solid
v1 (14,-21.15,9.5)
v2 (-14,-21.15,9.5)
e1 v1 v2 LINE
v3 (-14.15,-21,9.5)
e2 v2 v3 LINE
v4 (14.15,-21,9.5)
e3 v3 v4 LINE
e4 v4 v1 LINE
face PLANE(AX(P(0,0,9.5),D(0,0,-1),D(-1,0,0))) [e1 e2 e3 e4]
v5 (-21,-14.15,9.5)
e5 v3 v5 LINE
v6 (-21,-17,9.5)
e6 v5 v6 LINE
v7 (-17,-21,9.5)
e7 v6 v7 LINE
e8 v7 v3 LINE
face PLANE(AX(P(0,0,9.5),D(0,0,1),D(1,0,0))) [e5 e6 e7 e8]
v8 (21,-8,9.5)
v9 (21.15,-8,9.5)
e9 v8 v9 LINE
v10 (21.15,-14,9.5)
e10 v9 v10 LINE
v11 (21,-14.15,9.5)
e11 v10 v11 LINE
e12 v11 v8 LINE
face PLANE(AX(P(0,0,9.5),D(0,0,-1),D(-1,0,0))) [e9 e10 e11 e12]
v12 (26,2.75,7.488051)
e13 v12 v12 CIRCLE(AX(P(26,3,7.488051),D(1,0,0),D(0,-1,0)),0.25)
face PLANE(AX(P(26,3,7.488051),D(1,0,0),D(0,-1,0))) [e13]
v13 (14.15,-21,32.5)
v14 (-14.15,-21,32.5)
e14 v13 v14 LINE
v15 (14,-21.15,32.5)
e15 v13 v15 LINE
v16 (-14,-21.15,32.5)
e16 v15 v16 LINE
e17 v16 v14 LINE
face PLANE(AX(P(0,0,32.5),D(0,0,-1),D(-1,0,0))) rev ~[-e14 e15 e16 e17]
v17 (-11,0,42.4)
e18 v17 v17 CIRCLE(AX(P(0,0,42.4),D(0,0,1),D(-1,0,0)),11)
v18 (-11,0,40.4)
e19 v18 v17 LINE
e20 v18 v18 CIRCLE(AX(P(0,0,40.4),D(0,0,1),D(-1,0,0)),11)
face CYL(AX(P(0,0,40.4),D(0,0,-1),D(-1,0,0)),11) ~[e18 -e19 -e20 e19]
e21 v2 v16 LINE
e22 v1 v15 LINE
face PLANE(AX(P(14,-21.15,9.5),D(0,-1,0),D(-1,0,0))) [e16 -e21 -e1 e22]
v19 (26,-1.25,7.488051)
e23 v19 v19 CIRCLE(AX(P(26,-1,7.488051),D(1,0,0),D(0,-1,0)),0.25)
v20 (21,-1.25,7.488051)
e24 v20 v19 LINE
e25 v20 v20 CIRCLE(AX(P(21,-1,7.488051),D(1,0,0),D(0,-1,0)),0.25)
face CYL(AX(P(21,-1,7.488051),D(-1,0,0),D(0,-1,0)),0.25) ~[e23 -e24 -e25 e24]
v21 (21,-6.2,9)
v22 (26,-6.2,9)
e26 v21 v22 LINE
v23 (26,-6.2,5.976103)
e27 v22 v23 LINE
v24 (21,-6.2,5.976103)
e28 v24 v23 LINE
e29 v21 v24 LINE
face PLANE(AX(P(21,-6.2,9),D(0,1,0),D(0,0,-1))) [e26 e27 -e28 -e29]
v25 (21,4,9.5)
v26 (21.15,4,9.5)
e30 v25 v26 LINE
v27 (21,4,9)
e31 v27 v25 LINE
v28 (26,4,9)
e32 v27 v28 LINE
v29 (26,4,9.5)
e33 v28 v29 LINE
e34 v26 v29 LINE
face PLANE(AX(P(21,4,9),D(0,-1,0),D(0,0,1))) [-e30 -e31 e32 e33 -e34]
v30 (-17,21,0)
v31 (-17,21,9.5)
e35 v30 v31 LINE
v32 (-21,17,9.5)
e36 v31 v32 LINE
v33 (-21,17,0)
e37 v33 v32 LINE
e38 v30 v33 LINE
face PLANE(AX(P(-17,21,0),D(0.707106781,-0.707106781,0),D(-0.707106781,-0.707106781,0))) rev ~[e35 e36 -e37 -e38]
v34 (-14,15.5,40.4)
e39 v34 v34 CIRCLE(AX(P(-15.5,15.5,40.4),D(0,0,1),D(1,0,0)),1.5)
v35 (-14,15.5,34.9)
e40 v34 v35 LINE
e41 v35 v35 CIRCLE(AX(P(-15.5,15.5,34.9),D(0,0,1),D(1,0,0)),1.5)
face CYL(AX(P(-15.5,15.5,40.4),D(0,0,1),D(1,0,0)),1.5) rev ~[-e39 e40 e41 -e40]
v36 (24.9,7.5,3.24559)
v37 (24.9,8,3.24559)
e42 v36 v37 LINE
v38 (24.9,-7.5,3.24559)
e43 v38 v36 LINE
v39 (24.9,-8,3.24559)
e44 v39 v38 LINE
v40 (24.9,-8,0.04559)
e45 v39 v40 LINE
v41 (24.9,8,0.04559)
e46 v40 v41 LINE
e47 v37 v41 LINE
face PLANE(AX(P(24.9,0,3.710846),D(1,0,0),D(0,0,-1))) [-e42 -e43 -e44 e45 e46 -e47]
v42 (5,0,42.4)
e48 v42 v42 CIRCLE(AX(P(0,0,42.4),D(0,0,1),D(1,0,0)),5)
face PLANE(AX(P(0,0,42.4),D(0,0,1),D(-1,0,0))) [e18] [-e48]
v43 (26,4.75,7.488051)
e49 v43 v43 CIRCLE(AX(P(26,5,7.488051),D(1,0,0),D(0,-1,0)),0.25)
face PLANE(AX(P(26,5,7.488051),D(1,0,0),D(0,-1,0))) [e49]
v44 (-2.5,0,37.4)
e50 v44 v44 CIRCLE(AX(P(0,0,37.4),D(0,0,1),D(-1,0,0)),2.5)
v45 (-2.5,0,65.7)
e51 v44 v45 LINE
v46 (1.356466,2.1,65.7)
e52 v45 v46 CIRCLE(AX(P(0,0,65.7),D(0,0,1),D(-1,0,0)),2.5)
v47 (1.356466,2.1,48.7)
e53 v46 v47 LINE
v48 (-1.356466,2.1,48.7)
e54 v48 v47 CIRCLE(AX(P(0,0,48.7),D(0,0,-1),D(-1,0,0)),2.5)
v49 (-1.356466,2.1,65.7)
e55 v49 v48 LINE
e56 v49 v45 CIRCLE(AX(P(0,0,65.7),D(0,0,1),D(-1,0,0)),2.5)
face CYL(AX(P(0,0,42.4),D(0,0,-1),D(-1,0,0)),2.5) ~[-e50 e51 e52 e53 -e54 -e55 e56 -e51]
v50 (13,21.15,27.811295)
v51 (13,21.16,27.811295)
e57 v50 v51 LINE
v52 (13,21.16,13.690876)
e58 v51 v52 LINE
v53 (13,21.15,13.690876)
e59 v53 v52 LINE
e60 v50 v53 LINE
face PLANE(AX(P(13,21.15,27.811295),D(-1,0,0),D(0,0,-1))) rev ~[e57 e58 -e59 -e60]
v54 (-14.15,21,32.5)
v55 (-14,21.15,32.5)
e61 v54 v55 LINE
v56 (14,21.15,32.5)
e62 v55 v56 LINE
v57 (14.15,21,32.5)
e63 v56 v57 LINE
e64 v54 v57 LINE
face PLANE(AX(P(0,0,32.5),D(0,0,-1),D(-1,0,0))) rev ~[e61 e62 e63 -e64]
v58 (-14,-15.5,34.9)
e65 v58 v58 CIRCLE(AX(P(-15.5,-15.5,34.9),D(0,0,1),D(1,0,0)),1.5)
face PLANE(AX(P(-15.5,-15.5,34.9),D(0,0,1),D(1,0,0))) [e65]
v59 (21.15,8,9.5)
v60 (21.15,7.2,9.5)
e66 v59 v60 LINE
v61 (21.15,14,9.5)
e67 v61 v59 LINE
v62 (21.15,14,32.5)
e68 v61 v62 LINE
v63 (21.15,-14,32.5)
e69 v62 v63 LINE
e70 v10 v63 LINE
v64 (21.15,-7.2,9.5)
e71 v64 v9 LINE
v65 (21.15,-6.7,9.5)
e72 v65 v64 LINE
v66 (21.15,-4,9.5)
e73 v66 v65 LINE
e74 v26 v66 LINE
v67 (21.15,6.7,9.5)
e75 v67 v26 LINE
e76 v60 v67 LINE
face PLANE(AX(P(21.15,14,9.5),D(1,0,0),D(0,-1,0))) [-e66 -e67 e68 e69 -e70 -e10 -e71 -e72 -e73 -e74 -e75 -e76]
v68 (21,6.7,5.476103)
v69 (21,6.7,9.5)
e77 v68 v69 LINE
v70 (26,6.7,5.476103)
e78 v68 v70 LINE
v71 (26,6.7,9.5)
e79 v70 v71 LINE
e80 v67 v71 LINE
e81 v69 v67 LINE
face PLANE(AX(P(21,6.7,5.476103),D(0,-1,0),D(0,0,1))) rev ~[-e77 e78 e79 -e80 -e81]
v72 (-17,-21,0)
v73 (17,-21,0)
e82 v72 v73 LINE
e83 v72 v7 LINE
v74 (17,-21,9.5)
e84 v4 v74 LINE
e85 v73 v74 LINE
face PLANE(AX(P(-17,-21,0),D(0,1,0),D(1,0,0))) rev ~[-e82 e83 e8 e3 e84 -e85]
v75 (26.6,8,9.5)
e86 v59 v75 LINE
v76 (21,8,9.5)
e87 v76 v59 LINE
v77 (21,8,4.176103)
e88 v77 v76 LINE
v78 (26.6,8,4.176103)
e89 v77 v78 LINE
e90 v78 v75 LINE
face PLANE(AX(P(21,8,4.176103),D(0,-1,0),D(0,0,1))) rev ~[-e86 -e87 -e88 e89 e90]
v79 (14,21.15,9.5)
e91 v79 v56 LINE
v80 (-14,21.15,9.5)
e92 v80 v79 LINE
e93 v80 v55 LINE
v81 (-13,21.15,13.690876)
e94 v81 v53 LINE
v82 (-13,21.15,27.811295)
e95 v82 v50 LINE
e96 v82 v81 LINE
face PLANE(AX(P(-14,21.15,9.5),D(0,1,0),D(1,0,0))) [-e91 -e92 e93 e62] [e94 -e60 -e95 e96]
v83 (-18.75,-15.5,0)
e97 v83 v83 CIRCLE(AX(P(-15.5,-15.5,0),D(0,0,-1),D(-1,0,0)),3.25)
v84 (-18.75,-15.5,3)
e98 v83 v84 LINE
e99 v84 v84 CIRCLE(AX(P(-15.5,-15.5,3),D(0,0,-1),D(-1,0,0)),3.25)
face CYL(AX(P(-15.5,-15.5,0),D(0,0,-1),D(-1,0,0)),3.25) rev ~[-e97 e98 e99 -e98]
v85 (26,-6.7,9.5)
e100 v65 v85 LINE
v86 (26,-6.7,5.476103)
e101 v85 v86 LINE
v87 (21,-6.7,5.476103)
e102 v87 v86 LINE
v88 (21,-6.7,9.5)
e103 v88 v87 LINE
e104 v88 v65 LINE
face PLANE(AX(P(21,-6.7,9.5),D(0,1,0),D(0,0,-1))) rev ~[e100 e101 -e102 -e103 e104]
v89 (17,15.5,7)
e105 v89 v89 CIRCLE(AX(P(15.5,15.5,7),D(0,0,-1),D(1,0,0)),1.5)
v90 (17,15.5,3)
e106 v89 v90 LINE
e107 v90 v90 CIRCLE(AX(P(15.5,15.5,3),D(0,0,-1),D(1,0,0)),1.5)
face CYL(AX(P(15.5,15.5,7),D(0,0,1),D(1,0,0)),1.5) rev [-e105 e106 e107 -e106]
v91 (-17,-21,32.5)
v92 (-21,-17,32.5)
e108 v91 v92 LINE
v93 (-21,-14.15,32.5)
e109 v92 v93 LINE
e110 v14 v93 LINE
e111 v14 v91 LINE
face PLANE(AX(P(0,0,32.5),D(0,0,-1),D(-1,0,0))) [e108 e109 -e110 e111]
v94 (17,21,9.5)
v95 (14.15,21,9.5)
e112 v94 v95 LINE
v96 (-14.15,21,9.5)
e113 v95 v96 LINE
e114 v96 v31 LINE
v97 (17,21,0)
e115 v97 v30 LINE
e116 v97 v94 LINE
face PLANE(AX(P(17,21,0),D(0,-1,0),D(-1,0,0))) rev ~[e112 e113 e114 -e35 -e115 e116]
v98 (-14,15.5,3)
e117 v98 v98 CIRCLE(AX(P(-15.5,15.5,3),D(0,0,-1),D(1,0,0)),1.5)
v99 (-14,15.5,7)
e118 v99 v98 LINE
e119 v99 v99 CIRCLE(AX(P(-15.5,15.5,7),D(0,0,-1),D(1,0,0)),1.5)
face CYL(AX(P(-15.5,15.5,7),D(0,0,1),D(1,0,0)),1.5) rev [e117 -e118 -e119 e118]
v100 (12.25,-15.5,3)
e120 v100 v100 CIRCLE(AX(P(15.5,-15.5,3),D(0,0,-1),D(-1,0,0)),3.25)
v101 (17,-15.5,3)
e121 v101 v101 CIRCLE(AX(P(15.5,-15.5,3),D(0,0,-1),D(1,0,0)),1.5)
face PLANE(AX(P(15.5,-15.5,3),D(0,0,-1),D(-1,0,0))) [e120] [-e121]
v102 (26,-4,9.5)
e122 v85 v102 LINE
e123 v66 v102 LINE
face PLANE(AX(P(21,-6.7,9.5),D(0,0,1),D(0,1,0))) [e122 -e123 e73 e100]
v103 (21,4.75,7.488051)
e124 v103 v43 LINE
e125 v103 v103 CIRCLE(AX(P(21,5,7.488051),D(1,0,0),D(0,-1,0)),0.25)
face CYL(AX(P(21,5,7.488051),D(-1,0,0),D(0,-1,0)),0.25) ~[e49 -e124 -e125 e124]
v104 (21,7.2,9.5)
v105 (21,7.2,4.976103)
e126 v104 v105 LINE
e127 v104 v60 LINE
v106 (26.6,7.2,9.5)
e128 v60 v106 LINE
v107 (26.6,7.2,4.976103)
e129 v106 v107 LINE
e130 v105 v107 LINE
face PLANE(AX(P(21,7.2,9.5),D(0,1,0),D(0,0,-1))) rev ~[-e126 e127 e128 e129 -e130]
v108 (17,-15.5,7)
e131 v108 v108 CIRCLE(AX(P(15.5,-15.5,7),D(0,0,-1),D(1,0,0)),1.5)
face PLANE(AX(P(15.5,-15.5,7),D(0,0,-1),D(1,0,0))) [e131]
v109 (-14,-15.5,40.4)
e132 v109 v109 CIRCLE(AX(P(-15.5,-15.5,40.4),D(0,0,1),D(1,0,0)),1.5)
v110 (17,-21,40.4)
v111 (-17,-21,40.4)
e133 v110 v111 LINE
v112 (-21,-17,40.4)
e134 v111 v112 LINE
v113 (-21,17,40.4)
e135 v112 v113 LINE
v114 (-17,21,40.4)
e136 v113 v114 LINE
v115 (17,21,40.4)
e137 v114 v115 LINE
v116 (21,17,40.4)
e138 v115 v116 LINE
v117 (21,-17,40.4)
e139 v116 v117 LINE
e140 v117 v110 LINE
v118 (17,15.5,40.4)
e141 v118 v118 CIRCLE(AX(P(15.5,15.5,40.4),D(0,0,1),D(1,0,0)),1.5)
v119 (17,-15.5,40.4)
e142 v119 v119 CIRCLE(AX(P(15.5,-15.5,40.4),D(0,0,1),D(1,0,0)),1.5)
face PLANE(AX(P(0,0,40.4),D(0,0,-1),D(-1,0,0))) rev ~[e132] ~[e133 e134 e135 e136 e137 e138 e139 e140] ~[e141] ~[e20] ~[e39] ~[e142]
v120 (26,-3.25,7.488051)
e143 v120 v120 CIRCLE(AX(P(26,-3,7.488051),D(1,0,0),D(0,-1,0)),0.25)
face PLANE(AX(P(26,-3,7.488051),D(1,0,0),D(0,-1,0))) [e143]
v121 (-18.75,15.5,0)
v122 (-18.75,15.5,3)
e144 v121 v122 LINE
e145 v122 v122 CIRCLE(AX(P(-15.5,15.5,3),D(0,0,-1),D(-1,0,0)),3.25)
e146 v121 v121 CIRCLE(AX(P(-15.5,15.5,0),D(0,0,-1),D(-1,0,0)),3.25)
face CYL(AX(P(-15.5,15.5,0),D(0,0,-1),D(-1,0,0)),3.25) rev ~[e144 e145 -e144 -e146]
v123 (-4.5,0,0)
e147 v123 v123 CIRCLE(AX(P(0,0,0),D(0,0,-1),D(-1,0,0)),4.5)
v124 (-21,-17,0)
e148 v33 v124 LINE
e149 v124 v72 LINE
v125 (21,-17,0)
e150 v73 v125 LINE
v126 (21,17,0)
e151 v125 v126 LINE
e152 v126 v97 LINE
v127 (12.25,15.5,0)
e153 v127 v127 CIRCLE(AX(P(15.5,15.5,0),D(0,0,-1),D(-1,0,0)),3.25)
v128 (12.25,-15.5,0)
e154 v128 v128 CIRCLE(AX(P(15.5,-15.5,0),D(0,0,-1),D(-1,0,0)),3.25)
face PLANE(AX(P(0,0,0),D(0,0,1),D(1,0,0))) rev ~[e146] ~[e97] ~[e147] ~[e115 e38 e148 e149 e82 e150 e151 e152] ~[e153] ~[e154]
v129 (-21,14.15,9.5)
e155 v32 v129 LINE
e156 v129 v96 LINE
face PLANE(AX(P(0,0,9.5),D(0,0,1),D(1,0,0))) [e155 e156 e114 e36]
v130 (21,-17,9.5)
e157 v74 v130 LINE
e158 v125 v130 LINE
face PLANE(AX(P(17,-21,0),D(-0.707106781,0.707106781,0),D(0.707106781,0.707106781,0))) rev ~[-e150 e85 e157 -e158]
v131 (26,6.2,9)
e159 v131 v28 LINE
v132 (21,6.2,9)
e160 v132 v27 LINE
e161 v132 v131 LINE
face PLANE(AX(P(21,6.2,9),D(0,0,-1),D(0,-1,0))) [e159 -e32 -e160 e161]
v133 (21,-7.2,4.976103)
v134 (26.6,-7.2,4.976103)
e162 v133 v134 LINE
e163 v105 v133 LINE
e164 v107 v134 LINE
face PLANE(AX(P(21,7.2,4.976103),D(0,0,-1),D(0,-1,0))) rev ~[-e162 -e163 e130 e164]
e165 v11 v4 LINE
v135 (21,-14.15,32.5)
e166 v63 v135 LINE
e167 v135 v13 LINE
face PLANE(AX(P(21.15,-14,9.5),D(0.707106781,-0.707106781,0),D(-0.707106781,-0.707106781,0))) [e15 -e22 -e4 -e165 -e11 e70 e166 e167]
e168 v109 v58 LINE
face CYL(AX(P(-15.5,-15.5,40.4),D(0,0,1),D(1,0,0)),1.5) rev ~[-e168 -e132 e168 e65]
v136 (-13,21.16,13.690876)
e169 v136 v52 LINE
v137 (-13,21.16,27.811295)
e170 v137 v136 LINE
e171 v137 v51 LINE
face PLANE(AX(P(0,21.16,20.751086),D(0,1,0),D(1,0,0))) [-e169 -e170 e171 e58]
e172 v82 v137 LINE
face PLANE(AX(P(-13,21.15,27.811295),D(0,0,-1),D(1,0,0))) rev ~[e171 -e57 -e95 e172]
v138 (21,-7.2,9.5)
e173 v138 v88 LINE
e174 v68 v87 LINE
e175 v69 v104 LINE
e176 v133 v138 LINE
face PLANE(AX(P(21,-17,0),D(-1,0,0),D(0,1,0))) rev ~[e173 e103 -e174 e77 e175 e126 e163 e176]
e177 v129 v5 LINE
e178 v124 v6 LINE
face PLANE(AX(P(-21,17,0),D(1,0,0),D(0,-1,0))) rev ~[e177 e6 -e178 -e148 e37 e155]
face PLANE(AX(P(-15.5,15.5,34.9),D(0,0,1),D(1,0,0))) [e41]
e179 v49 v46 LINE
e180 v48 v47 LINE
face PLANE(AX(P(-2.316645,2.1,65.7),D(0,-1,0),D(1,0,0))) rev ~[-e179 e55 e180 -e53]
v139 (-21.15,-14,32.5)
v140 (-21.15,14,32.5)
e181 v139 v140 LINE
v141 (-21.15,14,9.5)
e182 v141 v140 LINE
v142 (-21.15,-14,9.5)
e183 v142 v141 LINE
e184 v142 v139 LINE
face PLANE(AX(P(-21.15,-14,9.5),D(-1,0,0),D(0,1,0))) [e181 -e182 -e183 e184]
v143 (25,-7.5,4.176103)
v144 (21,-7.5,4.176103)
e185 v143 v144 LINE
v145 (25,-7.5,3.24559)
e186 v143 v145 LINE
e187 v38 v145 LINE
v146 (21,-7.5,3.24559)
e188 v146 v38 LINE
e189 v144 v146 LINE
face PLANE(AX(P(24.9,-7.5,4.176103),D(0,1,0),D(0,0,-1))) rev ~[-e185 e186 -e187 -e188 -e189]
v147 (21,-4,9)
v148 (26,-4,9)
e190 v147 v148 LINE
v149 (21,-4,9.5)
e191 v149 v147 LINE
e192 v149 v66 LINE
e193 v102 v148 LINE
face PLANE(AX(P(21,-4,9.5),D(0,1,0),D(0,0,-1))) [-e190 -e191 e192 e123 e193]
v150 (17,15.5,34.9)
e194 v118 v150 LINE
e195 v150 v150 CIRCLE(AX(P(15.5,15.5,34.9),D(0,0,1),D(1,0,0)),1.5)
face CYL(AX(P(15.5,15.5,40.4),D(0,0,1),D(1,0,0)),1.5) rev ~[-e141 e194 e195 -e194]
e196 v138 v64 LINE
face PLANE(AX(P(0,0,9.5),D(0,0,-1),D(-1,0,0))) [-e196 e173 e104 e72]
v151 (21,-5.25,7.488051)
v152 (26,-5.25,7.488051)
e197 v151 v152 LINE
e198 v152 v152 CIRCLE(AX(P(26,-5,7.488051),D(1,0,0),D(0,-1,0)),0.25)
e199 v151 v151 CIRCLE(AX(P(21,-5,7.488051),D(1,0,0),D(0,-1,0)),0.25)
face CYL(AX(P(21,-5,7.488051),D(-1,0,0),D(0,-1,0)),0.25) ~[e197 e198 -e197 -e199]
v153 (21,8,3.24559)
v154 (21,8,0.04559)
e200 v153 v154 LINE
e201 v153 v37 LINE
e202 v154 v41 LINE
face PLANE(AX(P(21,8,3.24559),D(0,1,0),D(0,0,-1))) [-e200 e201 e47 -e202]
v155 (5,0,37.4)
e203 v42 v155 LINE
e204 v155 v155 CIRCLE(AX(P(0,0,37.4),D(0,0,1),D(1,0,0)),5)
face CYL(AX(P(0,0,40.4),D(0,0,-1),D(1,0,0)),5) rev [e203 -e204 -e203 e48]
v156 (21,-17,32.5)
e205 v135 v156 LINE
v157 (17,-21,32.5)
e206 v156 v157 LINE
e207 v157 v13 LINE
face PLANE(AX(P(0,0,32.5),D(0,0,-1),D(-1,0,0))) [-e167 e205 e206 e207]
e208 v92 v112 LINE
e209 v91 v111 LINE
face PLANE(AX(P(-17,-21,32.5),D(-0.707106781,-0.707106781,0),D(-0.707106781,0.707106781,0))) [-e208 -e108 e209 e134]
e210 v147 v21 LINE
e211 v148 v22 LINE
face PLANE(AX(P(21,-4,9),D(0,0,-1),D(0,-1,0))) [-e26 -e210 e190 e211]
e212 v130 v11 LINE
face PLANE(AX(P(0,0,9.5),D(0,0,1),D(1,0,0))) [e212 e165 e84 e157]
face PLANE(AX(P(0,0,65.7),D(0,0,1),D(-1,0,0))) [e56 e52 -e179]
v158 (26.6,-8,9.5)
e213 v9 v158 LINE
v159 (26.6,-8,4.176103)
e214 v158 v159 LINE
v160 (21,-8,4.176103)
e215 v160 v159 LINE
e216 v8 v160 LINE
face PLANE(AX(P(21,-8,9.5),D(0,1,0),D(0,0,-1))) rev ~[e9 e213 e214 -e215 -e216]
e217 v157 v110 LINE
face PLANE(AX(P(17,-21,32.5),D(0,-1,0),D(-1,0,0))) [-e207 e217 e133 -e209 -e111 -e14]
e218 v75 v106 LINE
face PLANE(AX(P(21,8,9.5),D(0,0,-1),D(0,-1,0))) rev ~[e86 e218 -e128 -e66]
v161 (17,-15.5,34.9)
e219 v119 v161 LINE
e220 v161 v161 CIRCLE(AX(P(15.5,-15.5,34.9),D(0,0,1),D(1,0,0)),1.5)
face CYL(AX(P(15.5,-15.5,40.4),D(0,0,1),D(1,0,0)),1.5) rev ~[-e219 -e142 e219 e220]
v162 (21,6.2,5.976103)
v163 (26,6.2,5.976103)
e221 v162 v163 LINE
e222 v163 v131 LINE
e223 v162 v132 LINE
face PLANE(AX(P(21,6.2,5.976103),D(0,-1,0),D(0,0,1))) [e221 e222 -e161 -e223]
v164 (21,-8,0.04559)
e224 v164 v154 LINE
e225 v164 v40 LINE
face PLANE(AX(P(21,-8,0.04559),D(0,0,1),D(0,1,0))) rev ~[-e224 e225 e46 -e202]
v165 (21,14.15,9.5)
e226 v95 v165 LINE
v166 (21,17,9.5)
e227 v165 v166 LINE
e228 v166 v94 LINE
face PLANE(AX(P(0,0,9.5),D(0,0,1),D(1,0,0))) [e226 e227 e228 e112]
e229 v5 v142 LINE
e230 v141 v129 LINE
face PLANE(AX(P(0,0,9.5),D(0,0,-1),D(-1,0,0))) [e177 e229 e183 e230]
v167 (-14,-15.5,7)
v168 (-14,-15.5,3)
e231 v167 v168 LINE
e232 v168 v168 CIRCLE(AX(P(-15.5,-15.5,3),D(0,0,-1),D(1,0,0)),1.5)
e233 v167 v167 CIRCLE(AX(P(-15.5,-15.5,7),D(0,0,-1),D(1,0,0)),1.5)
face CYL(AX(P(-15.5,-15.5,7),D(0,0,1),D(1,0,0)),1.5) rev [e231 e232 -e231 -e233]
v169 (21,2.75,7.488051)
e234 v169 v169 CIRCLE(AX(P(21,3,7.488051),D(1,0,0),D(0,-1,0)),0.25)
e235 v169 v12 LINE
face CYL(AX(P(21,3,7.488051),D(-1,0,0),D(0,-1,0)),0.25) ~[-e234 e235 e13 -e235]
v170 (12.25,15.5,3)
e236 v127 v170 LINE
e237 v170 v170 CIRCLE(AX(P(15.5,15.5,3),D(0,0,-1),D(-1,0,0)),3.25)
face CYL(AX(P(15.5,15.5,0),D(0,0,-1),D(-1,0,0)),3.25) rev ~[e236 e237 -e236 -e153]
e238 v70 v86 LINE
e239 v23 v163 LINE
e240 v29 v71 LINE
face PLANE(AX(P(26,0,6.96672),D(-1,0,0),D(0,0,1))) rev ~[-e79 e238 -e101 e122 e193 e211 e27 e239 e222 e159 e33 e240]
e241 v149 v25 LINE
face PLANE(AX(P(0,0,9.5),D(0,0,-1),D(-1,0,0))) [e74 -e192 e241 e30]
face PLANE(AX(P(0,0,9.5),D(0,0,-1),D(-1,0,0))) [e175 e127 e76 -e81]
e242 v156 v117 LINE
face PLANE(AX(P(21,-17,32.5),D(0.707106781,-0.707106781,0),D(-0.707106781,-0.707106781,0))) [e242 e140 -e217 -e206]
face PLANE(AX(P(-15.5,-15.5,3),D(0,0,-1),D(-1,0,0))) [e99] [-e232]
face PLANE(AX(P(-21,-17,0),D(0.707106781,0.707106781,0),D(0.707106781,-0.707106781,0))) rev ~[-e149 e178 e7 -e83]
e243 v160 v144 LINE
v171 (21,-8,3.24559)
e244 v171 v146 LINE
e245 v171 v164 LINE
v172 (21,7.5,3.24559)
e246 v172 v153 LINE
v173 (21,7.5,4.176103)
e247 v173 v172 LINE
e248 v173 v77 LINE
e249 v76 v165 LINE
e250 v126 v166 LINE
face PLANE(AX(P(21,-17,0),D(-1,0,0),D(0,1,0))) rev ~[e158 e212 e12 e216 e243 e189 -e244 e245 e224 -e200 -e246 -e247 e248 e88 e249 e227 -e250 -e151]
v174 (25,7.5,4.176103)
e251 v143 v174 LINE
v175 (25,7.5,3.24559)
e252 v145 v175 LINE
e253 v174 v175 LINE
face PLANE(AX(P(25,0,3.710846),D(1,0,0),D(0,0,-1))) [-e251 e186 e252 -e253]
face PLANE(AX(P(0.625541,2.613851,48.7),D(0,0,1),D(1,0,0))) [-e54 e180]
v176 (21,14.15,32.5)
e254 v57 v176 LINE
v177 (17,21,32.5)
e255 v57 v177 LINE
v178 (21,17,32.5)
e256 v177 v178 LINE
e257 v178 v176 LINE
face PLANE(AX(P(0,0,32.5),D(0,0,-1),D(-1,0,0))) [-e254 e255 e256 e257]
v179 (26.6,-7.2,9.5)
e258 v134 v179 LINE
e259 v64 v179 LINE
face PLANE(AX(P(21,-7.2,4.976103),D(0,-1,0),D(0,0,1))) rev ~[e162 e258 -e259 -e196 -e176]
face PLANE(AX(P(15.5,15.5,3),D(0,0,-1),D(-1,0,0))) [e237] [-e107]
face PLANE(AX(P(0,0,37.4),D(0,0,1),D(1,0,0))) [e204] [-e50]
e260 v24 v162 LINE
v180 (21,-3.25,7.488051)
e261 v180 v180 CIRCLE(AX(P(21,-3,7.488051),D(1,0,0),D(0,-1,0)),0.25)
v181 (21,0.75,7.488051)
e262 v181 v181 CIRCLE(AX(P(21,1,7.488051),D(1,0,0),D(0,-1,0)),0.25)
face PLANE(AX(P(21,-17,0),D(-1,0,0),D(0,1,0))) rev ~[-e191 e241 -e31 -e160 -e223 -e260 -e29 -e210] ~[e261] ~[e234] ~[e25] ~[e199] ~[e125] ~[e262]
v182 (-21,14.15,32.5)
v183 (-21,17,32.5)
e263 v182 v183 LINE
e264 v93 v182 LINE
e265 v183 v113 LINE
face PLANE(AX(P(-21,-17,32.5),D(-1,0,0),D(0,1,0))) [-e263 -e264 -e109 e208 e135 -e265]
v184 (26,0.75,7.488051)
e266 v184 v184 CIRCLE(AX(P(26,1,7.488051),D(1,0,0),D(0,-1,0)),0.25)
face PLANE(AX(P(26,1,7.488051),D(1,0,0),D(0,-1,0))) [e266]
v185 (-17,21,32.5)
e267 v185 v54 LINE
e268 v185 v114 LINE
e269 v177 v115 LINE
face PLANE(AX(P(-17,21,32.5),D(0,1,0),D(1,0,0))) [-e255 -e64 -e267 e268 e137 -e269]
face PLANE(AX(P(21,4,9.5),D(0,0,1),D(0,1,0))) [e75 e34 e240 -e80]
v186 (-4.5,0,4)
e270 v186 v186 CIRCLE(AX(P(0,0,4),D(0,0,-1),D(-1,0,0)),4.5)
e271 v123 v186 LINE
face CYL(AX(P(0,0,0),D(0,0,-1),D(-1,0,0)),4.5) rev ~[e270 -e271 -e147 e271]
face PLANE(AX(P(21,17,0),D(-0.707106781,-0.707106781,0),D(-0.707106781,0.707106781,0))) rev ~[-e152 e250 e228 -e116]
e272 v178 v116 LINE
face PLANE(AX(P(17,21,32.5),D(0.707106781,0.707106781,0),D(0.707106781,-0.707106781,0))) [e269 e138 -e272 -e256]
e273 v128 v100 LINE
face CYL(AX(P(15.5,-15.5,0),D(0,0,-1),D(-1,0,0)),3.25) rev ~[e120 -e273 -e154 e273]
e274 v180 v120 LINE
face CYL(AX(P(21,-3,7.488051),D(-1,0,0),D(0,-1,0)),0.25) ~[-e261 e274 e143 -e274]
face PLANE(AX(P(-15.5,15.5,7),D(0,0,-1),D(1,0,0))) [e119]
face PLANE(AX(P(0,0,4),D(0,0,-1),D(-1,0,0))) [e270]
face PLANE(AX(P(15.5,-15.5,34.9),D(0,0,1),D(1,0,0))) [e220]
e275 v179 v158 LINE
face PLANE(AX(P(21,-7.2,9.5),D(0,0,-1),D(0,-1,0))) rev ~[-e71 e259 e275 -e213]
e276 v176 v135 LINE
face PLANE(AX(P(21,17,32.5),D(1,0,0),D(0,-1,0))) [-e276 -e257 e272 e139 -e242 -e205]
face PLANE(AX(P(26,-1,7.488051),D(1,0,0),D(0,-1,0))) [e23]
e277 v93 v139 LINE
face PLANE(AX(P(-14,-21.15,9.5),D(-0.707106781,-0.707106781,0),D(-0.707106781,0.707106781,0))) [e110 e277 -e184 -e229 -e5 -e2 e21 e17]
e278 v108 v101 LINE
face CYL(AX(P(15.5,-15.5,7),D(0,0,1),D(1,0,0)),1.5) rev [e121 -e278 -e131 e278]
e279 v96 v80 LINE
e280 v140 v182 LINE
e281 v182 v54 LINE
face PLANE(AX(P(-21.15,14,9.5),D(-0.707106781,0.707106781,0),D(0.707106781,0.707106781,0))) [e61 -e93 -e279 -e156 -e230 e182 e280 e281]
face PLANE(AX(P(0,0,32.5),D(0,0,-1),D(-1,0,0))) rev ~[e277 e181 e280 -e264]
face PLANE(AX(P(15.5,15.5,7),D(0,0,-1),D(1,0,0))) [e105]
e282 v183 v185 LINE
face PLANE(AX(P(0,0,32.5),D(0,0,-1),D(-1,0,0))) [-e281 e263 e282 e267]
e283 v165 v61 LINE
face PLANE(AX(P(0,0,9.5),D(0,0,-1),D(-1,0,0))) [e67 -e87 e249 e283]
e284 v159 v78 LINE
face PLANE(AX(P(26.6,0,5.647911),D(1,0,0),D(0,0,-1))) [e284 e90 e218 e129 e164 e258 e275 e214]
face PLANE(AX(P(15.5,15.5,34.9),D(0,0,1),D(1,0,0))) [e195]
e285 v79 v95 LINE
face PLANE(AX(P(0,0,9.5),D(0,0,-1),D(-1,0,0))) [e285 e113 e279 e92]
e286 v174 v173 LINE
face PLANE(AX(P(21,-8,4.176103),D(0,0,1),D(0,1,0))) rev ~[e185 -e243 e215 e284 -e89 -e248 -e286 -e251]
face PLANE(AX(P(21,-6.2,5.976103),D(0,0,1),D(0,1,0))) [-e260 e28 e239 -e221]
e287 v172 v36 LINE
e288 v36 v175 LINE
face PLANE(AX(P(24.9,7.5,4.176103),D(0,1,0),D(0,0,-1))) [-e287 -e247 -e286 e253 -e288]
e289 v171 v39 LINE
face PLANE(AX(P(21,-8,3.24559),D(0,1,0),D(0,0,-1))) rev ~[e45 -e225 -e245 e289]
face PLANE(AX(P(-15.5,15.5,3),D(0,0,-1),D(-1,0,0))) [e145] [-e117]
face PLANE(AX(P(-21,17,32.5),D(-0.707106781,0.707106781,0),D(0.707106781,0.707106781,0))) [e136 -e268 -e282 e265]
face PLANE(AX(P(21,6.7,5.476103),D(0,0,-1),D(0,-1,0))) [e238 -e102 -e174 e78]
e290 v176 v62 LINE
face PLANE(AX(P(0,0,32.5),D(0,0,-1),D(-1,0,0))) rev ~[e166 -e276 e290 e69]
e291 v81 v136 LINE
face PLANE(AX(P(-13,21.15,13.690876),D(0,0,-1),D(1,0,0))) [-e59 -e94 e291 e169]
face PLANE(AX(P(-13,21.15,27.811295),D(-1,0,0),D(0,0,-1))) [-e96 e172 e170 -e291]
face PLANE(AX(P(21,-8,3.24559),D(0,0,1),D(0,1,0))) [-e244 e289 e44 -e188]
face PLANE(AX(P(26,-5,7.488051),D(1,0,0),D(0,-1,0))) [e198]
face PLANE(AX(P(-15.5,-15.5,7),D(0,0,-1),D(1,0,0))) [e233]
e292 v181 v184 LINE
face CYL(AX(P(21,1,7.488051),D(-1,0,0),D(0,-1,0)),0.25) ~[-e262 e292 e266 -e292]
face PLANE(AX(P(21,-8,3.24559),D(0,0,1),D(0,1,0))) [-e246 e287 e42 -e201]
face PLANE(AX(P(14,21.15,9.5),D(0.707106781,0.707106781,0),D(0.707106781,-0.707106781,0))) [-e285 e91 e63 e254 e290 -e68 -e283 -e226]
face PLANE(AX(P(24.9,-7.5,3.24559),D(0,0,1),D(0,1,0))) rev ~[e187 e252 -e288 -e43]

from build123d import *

# Parameters (mm, degrees)
BOSS_EXTRUDE1_DEPTH  = 9.5
BOSS_EXTRUDE2_DEPTH  = 23
BOSS_EXTRUDE3_DEPTH  = 7.9
SKETCH5_R            = 11
SKETCH5_R_2          = 5
BOSS_EXTRUDE4_DEPTH  = 2
CUT_EXTRUDE1_START   = -3
SKETCH6_R            = 5
CUT_EXTRUDE1_DEPTH   = 3
SKETCH7_R            = 2.5
BOSS_EXTRUDE5_DEPTH  = 5
SKETCH8_R            = 2.5
BOSS_EXTRUDE6_DEPTH  = 23.3
CUT_EXTRUDE2_DEPTH   = 17
SKETCH10_W           = 26
SKETCH10_H           = 14.120419237
BOSS_EXTRUDE7_DEPTH  = 0.01
SKETCH11_W           = 3.2
SKETCH11_H           = 16
BOSS_EXTRUDE8_DEPTH  = 3.9
BOSS_EXTRUDE9_DEPTH  = 5.6
SKETCH13_W           = 0.930512921
SKETCH13_H           = 15
BOSS_EXTRUDE10_DEPTH = 3.9
SKETCH14_W           = 0.930512921
SKETCH14_H           = 15
BOSS_EXTRUDE11_DEPTH = 0.1
BOSS_EXTRUDE12_DEPTH = 5
SKETCH16_R           = 0.25
BOSS_EXTRUDE13_DEPTH = 5
SKETCH17_R           = 1.5
CUT_EXTRUDE3_DEPTH   = 5.5
SKETCH18_R           = 3.25
CUT_EXTRUDE4_DEPTH   = 3
CUT_EXTRUDE5_START   = -4
SKETCH20_R           = 1.5
CUT_EXTRUDE5_DEPTH   = 4
SKETCH21_R           = 4.5
CUT_EXTRUDE6_DEPTH   = 4


with BuildPart() as part:
    # Sketch1 → Boss-Extrude1 (new body)
    with BuildSketch(Plane.XY):
        Polygon((-17, 21), (-21, 17), (-21, -17), (-17, -21), (17, -21), (21, -17), (21, 17), (17, 21), align=None)
    extrude(amount=BOSS_EXTRUDE1_DEPTH)

    # Sketch2 → Boss-Extrude2 (add)
    with BuildSketch(Plane.XY.offset(9.5)):
        Polygon((14, 21.15), (21.15, 14), (21.15, -14), (14, -21.15), (-14, -21.15), (-21.15, -14), (-21.15, 14), (-14, 21.15), align=None)
    extrude(amount=BOSS_EXTRUDE2_DEPTH)

    # Sketch3 → Boss-Extrude3 (add)
    with BuildSketch(Plane.XY.offset(32.5)):
        Polygon((-17, 21), (17, 21), (21, 17), (21, -17), (17, -21), (-17, -21), (-21, -17), (-21, 17), align=None)
    extrude(amount=BOSS_EXTRUDE3_DEPTH)

    # Sketch5 → Boss-Extrude4 (add)
    with BuildSketch(Plane.XY.offset(40.4)):
        with Locations(Location((0, 0, 0), (0, 0, 180))):
            Circle(SKETCH5_R)
        Circle(SKETCH5_R_2, mode=Mode.SUBTRACT)
    extrude(amount=BOSS_EXTRUDE4_DEPTH)

    # Sketch6 → Cut-Extrude1 (cut)
    with BuildSketch(Plane.XY.offset(40.4).offset(CUT_EXTRUDE1_START)):
        Circle(SKETCH6_R)
    extrude(amount=CUT_EXTRUDE1_DEPTH, mode=Mode.SUBTRACT)

    # Sketch7 → Boss-Extrude5 (add)
    with BuildSketch(Plane.XY.offset(37.4)):
        with Locations(Location((0, 0, 0), (0, 0, 180))):
            Circle(SKETCH7_R)
    extrude(amount=BOSS_EXTRUDE5_DEPTH)

    # Sketch8 → Boss-Extrude6 (add)
    with BuildSketch(Plane.XY.offset(42.4)):
        with Locations(Location((0, 0, 0), (0, 0, 180))):
            Circle(SKETCH8_R)
    extrude(amount=BOSS_EXTRUDE6_DEPTH)

    # Sketch9 → Cut-Extrude2 (cut)
    with BuildSketch(Plane.XY.offset(65.7)):
        Polygon((-2.316645086, 2.1), (3.697939095, 2.1), (-0.123554347, 3.991048302), align=None)
    extrude(amount=-CUT_EXTRUDE2_DEPTH, mode=Mode.SUBTRACT)

    # Sketch10 → Boss-Extrude7 (add)
    with BuildSketch(Plane(origin=(0, 21.15, 0), x_dir=(1, 0, 0), z_dir=(0, 1, 0))):
        with Locations((0, -20.751085576)):
            Rectangle(SKETCH10_W, SKETCH10_H)
    extrude(amount=BOSS_EXTRUDE7_DEPTH)

    # Sketch11 → Boss-Extrude8 (add)
    with BuildSketch(Plane(origin=(21, 0, 0), x_dir=(0, 0, -1), z_dir=(1, 0, 0))):
        with Locations((-1.645589959, 0)):
            Rectangle(SKETCH11_W, SKETCH11_H)
    extrude(amount=BOSS_EXTRUDE8_DEPTH)

    # Sketch12 → Boss-Extrude9 (add)
    with BuildSketch(Plane(origin=(21, 0, 0), x_dir=(0, 0, -1), z_dir=(1, 0, 0))):
        Polygon((-9.5, 7.2), (-4.97610288, 7.2), (-4.97610288, -7.2), (-9.5, -7.2), (-9.5, -8), (-4.17610288, -8), (-4.17610288, -7.2), (-4.17610288, 7.2), (-4.17610288, 8), (-9.5, 8), align=None)
    extrude(amount=BOSS_EXTRUDE9_DEPTH)

    # Sketch13 → Boss-Extrude10 (add)
    with BuildSketch(Plane(origin=(21, 0, 0), x_dir=(0, 0, -1), z_dir=(1, 0, 0))):
        with Locations((-3.71084642, 0)):
            Rectangle(SKETCH13_W, SKETCH13_H)
    extrude(amount=BOSS_EXTRUDE10_DEPTH)

    # Sketch14 → Boss-Extrude11 (add)
    with BuildSketch(Plane(origin=(24.9, 0, 0), x_dir=(0, 0, -1), z_dir=(1, 0, 0))):
        with Locations((-3.71084642, 0)):
            Rectangle(SKETCH14_W, SKETCH14_H)
    extrude(amount=BOSS_EXTRUDE11_DEPTH)

    # Sketch15 → Boss-Extrude12 (add)
    with BuildSketch(Plane(origin=(21, 0, 0), x_dir=(0, 0, -1), z_dir=(1, 0, 0))):
        Polygon((-5.97610288, 6.2), (-9, 6.2), (-9, 4), (-9.5, 4), (-9.5, 6.7), (-9, 6.7), (-5.47610288, 6.7), (-5.47610288, -6.7), (-9, -6.7), (-9.5, -6.7), (-9.5, -4), (-9, -4), (-9, -6.2), (-5.97610288, -6.2), align=None)
    extrude(amount=BOSS_EXTRUDE12_DEPTH)

    # Sketch16 → Boss-Extrude13 (add)
    with BuildSketch(Plane(origin=(21, 0, 0), x_dir=(0, 0, -1), z_dir=(1, 0, 0))):
        with Locations(Location((-7.48805144, 5, 0), (0, 0, 270))):
            Circle(SKETCH16_R)
        with Locations(Location((-7.48805144, 3, 0), (0, 0, 270))):
            Circle(SKETCH16_R)
        with Locations(Location((-7.48805144, 1, 0), (0, 0, 270))):
            Circle(SKETCH16_R)
        with Locations(Location((-7.48805144, -1, 0), (0, 0, 270))):
            Circle(SKETCH16_R)
        with Locations(Location((-7.48805144, -3, 0), (0, 0, 270))):
            Circle(SKETCH16_R)
        with Locations(Location((-7.48805144, -5, 0), (0, 0, 270))):
            Circle(SKETCH16_R)
    extrude(amount=BOSS_EXTRUDE13_DEPTH)

    # Sketch17 → Cut-Extrude3 (cut)
    with BuildSketch(Plane.XY.offset(40.4)):
        with Locations((-15.5, 15.5)):
            Circle(SKETCH17_R)
        with Locations((15.5, 15.5)):
            Circle(SKETCH17_R)
        with Locations((15.5, -15.5)):
            Circle(SKETCH17_R)
        with Locations((-15.5, -15.5)):
            Circle(SKETCH17_R)
    extrude(amount=-CUT_EXTRUDE3_DEPTH, mode=Mode.SUBTRACT)

    # Sketch18 → Cut-Extrude4 (cut)
    with BuildSketch(Plane(origin=(0, 0, 0), x_dir=(-1, 0, 0), z_dir=(0, 0, -1))):
        with Locations((-15.5, 15.5)):
            Circle(SKETCH18_R)
        with Locations((15.5, 15.5)):
            Circle(SKETCH18_R)
        with Locations((15.5, -15.5)):
            Circle(SKETCH18_R)
        with Locations((-15.5, -15.5)):
            Circle(SKETCH18_R)
    extrude(amount=-CUT_EXTRUDE4_DEPTH, mode=Mode.SUBTRACT)

    # Sketch20 → Cut-Extrude5 (cut)
    with BuildSketch(Plane(origin=(0, 0, 3), x_dir=(-1, 0, 0), z_dir=(0, 0, -1)).offset(CUT_EXTRUDE5_START)):
        with Locations(Location((-15.5, 15.5, 0), (0, 0, 180))):
            Circle(SKETCH20_R)
        with Locations(Location((15.5, 15.5, 0), (0, 0, 180))):
            Circle(SKETCH20_R)
        with Locations(Location((-15.5, -15.5, 0), (0, 0, 180))):
            Circle(SKETCH20_R)
        with Locations(Location((15.5, -15.5, 0), (0, 0, 180))):
            Circle(SKETCH20_R)
    extrude(amount=CUT_EXTRUDE5_DEPTH, mode=Mode.SUBTRACT)

    # Sketch21 → Cut-Extrude6 (cut)
    with BuildSketch(Plane(origin=(0, 0, 0), x_dir=(-1, 0, 0), z_dir=(0, 0, -1))):
        Circle(SKETCH21_R)
    extrude(amount=-CUT_EXTRUDE6_DEPTH, mode=Mode.SUBTRACT)


solid = part.part
